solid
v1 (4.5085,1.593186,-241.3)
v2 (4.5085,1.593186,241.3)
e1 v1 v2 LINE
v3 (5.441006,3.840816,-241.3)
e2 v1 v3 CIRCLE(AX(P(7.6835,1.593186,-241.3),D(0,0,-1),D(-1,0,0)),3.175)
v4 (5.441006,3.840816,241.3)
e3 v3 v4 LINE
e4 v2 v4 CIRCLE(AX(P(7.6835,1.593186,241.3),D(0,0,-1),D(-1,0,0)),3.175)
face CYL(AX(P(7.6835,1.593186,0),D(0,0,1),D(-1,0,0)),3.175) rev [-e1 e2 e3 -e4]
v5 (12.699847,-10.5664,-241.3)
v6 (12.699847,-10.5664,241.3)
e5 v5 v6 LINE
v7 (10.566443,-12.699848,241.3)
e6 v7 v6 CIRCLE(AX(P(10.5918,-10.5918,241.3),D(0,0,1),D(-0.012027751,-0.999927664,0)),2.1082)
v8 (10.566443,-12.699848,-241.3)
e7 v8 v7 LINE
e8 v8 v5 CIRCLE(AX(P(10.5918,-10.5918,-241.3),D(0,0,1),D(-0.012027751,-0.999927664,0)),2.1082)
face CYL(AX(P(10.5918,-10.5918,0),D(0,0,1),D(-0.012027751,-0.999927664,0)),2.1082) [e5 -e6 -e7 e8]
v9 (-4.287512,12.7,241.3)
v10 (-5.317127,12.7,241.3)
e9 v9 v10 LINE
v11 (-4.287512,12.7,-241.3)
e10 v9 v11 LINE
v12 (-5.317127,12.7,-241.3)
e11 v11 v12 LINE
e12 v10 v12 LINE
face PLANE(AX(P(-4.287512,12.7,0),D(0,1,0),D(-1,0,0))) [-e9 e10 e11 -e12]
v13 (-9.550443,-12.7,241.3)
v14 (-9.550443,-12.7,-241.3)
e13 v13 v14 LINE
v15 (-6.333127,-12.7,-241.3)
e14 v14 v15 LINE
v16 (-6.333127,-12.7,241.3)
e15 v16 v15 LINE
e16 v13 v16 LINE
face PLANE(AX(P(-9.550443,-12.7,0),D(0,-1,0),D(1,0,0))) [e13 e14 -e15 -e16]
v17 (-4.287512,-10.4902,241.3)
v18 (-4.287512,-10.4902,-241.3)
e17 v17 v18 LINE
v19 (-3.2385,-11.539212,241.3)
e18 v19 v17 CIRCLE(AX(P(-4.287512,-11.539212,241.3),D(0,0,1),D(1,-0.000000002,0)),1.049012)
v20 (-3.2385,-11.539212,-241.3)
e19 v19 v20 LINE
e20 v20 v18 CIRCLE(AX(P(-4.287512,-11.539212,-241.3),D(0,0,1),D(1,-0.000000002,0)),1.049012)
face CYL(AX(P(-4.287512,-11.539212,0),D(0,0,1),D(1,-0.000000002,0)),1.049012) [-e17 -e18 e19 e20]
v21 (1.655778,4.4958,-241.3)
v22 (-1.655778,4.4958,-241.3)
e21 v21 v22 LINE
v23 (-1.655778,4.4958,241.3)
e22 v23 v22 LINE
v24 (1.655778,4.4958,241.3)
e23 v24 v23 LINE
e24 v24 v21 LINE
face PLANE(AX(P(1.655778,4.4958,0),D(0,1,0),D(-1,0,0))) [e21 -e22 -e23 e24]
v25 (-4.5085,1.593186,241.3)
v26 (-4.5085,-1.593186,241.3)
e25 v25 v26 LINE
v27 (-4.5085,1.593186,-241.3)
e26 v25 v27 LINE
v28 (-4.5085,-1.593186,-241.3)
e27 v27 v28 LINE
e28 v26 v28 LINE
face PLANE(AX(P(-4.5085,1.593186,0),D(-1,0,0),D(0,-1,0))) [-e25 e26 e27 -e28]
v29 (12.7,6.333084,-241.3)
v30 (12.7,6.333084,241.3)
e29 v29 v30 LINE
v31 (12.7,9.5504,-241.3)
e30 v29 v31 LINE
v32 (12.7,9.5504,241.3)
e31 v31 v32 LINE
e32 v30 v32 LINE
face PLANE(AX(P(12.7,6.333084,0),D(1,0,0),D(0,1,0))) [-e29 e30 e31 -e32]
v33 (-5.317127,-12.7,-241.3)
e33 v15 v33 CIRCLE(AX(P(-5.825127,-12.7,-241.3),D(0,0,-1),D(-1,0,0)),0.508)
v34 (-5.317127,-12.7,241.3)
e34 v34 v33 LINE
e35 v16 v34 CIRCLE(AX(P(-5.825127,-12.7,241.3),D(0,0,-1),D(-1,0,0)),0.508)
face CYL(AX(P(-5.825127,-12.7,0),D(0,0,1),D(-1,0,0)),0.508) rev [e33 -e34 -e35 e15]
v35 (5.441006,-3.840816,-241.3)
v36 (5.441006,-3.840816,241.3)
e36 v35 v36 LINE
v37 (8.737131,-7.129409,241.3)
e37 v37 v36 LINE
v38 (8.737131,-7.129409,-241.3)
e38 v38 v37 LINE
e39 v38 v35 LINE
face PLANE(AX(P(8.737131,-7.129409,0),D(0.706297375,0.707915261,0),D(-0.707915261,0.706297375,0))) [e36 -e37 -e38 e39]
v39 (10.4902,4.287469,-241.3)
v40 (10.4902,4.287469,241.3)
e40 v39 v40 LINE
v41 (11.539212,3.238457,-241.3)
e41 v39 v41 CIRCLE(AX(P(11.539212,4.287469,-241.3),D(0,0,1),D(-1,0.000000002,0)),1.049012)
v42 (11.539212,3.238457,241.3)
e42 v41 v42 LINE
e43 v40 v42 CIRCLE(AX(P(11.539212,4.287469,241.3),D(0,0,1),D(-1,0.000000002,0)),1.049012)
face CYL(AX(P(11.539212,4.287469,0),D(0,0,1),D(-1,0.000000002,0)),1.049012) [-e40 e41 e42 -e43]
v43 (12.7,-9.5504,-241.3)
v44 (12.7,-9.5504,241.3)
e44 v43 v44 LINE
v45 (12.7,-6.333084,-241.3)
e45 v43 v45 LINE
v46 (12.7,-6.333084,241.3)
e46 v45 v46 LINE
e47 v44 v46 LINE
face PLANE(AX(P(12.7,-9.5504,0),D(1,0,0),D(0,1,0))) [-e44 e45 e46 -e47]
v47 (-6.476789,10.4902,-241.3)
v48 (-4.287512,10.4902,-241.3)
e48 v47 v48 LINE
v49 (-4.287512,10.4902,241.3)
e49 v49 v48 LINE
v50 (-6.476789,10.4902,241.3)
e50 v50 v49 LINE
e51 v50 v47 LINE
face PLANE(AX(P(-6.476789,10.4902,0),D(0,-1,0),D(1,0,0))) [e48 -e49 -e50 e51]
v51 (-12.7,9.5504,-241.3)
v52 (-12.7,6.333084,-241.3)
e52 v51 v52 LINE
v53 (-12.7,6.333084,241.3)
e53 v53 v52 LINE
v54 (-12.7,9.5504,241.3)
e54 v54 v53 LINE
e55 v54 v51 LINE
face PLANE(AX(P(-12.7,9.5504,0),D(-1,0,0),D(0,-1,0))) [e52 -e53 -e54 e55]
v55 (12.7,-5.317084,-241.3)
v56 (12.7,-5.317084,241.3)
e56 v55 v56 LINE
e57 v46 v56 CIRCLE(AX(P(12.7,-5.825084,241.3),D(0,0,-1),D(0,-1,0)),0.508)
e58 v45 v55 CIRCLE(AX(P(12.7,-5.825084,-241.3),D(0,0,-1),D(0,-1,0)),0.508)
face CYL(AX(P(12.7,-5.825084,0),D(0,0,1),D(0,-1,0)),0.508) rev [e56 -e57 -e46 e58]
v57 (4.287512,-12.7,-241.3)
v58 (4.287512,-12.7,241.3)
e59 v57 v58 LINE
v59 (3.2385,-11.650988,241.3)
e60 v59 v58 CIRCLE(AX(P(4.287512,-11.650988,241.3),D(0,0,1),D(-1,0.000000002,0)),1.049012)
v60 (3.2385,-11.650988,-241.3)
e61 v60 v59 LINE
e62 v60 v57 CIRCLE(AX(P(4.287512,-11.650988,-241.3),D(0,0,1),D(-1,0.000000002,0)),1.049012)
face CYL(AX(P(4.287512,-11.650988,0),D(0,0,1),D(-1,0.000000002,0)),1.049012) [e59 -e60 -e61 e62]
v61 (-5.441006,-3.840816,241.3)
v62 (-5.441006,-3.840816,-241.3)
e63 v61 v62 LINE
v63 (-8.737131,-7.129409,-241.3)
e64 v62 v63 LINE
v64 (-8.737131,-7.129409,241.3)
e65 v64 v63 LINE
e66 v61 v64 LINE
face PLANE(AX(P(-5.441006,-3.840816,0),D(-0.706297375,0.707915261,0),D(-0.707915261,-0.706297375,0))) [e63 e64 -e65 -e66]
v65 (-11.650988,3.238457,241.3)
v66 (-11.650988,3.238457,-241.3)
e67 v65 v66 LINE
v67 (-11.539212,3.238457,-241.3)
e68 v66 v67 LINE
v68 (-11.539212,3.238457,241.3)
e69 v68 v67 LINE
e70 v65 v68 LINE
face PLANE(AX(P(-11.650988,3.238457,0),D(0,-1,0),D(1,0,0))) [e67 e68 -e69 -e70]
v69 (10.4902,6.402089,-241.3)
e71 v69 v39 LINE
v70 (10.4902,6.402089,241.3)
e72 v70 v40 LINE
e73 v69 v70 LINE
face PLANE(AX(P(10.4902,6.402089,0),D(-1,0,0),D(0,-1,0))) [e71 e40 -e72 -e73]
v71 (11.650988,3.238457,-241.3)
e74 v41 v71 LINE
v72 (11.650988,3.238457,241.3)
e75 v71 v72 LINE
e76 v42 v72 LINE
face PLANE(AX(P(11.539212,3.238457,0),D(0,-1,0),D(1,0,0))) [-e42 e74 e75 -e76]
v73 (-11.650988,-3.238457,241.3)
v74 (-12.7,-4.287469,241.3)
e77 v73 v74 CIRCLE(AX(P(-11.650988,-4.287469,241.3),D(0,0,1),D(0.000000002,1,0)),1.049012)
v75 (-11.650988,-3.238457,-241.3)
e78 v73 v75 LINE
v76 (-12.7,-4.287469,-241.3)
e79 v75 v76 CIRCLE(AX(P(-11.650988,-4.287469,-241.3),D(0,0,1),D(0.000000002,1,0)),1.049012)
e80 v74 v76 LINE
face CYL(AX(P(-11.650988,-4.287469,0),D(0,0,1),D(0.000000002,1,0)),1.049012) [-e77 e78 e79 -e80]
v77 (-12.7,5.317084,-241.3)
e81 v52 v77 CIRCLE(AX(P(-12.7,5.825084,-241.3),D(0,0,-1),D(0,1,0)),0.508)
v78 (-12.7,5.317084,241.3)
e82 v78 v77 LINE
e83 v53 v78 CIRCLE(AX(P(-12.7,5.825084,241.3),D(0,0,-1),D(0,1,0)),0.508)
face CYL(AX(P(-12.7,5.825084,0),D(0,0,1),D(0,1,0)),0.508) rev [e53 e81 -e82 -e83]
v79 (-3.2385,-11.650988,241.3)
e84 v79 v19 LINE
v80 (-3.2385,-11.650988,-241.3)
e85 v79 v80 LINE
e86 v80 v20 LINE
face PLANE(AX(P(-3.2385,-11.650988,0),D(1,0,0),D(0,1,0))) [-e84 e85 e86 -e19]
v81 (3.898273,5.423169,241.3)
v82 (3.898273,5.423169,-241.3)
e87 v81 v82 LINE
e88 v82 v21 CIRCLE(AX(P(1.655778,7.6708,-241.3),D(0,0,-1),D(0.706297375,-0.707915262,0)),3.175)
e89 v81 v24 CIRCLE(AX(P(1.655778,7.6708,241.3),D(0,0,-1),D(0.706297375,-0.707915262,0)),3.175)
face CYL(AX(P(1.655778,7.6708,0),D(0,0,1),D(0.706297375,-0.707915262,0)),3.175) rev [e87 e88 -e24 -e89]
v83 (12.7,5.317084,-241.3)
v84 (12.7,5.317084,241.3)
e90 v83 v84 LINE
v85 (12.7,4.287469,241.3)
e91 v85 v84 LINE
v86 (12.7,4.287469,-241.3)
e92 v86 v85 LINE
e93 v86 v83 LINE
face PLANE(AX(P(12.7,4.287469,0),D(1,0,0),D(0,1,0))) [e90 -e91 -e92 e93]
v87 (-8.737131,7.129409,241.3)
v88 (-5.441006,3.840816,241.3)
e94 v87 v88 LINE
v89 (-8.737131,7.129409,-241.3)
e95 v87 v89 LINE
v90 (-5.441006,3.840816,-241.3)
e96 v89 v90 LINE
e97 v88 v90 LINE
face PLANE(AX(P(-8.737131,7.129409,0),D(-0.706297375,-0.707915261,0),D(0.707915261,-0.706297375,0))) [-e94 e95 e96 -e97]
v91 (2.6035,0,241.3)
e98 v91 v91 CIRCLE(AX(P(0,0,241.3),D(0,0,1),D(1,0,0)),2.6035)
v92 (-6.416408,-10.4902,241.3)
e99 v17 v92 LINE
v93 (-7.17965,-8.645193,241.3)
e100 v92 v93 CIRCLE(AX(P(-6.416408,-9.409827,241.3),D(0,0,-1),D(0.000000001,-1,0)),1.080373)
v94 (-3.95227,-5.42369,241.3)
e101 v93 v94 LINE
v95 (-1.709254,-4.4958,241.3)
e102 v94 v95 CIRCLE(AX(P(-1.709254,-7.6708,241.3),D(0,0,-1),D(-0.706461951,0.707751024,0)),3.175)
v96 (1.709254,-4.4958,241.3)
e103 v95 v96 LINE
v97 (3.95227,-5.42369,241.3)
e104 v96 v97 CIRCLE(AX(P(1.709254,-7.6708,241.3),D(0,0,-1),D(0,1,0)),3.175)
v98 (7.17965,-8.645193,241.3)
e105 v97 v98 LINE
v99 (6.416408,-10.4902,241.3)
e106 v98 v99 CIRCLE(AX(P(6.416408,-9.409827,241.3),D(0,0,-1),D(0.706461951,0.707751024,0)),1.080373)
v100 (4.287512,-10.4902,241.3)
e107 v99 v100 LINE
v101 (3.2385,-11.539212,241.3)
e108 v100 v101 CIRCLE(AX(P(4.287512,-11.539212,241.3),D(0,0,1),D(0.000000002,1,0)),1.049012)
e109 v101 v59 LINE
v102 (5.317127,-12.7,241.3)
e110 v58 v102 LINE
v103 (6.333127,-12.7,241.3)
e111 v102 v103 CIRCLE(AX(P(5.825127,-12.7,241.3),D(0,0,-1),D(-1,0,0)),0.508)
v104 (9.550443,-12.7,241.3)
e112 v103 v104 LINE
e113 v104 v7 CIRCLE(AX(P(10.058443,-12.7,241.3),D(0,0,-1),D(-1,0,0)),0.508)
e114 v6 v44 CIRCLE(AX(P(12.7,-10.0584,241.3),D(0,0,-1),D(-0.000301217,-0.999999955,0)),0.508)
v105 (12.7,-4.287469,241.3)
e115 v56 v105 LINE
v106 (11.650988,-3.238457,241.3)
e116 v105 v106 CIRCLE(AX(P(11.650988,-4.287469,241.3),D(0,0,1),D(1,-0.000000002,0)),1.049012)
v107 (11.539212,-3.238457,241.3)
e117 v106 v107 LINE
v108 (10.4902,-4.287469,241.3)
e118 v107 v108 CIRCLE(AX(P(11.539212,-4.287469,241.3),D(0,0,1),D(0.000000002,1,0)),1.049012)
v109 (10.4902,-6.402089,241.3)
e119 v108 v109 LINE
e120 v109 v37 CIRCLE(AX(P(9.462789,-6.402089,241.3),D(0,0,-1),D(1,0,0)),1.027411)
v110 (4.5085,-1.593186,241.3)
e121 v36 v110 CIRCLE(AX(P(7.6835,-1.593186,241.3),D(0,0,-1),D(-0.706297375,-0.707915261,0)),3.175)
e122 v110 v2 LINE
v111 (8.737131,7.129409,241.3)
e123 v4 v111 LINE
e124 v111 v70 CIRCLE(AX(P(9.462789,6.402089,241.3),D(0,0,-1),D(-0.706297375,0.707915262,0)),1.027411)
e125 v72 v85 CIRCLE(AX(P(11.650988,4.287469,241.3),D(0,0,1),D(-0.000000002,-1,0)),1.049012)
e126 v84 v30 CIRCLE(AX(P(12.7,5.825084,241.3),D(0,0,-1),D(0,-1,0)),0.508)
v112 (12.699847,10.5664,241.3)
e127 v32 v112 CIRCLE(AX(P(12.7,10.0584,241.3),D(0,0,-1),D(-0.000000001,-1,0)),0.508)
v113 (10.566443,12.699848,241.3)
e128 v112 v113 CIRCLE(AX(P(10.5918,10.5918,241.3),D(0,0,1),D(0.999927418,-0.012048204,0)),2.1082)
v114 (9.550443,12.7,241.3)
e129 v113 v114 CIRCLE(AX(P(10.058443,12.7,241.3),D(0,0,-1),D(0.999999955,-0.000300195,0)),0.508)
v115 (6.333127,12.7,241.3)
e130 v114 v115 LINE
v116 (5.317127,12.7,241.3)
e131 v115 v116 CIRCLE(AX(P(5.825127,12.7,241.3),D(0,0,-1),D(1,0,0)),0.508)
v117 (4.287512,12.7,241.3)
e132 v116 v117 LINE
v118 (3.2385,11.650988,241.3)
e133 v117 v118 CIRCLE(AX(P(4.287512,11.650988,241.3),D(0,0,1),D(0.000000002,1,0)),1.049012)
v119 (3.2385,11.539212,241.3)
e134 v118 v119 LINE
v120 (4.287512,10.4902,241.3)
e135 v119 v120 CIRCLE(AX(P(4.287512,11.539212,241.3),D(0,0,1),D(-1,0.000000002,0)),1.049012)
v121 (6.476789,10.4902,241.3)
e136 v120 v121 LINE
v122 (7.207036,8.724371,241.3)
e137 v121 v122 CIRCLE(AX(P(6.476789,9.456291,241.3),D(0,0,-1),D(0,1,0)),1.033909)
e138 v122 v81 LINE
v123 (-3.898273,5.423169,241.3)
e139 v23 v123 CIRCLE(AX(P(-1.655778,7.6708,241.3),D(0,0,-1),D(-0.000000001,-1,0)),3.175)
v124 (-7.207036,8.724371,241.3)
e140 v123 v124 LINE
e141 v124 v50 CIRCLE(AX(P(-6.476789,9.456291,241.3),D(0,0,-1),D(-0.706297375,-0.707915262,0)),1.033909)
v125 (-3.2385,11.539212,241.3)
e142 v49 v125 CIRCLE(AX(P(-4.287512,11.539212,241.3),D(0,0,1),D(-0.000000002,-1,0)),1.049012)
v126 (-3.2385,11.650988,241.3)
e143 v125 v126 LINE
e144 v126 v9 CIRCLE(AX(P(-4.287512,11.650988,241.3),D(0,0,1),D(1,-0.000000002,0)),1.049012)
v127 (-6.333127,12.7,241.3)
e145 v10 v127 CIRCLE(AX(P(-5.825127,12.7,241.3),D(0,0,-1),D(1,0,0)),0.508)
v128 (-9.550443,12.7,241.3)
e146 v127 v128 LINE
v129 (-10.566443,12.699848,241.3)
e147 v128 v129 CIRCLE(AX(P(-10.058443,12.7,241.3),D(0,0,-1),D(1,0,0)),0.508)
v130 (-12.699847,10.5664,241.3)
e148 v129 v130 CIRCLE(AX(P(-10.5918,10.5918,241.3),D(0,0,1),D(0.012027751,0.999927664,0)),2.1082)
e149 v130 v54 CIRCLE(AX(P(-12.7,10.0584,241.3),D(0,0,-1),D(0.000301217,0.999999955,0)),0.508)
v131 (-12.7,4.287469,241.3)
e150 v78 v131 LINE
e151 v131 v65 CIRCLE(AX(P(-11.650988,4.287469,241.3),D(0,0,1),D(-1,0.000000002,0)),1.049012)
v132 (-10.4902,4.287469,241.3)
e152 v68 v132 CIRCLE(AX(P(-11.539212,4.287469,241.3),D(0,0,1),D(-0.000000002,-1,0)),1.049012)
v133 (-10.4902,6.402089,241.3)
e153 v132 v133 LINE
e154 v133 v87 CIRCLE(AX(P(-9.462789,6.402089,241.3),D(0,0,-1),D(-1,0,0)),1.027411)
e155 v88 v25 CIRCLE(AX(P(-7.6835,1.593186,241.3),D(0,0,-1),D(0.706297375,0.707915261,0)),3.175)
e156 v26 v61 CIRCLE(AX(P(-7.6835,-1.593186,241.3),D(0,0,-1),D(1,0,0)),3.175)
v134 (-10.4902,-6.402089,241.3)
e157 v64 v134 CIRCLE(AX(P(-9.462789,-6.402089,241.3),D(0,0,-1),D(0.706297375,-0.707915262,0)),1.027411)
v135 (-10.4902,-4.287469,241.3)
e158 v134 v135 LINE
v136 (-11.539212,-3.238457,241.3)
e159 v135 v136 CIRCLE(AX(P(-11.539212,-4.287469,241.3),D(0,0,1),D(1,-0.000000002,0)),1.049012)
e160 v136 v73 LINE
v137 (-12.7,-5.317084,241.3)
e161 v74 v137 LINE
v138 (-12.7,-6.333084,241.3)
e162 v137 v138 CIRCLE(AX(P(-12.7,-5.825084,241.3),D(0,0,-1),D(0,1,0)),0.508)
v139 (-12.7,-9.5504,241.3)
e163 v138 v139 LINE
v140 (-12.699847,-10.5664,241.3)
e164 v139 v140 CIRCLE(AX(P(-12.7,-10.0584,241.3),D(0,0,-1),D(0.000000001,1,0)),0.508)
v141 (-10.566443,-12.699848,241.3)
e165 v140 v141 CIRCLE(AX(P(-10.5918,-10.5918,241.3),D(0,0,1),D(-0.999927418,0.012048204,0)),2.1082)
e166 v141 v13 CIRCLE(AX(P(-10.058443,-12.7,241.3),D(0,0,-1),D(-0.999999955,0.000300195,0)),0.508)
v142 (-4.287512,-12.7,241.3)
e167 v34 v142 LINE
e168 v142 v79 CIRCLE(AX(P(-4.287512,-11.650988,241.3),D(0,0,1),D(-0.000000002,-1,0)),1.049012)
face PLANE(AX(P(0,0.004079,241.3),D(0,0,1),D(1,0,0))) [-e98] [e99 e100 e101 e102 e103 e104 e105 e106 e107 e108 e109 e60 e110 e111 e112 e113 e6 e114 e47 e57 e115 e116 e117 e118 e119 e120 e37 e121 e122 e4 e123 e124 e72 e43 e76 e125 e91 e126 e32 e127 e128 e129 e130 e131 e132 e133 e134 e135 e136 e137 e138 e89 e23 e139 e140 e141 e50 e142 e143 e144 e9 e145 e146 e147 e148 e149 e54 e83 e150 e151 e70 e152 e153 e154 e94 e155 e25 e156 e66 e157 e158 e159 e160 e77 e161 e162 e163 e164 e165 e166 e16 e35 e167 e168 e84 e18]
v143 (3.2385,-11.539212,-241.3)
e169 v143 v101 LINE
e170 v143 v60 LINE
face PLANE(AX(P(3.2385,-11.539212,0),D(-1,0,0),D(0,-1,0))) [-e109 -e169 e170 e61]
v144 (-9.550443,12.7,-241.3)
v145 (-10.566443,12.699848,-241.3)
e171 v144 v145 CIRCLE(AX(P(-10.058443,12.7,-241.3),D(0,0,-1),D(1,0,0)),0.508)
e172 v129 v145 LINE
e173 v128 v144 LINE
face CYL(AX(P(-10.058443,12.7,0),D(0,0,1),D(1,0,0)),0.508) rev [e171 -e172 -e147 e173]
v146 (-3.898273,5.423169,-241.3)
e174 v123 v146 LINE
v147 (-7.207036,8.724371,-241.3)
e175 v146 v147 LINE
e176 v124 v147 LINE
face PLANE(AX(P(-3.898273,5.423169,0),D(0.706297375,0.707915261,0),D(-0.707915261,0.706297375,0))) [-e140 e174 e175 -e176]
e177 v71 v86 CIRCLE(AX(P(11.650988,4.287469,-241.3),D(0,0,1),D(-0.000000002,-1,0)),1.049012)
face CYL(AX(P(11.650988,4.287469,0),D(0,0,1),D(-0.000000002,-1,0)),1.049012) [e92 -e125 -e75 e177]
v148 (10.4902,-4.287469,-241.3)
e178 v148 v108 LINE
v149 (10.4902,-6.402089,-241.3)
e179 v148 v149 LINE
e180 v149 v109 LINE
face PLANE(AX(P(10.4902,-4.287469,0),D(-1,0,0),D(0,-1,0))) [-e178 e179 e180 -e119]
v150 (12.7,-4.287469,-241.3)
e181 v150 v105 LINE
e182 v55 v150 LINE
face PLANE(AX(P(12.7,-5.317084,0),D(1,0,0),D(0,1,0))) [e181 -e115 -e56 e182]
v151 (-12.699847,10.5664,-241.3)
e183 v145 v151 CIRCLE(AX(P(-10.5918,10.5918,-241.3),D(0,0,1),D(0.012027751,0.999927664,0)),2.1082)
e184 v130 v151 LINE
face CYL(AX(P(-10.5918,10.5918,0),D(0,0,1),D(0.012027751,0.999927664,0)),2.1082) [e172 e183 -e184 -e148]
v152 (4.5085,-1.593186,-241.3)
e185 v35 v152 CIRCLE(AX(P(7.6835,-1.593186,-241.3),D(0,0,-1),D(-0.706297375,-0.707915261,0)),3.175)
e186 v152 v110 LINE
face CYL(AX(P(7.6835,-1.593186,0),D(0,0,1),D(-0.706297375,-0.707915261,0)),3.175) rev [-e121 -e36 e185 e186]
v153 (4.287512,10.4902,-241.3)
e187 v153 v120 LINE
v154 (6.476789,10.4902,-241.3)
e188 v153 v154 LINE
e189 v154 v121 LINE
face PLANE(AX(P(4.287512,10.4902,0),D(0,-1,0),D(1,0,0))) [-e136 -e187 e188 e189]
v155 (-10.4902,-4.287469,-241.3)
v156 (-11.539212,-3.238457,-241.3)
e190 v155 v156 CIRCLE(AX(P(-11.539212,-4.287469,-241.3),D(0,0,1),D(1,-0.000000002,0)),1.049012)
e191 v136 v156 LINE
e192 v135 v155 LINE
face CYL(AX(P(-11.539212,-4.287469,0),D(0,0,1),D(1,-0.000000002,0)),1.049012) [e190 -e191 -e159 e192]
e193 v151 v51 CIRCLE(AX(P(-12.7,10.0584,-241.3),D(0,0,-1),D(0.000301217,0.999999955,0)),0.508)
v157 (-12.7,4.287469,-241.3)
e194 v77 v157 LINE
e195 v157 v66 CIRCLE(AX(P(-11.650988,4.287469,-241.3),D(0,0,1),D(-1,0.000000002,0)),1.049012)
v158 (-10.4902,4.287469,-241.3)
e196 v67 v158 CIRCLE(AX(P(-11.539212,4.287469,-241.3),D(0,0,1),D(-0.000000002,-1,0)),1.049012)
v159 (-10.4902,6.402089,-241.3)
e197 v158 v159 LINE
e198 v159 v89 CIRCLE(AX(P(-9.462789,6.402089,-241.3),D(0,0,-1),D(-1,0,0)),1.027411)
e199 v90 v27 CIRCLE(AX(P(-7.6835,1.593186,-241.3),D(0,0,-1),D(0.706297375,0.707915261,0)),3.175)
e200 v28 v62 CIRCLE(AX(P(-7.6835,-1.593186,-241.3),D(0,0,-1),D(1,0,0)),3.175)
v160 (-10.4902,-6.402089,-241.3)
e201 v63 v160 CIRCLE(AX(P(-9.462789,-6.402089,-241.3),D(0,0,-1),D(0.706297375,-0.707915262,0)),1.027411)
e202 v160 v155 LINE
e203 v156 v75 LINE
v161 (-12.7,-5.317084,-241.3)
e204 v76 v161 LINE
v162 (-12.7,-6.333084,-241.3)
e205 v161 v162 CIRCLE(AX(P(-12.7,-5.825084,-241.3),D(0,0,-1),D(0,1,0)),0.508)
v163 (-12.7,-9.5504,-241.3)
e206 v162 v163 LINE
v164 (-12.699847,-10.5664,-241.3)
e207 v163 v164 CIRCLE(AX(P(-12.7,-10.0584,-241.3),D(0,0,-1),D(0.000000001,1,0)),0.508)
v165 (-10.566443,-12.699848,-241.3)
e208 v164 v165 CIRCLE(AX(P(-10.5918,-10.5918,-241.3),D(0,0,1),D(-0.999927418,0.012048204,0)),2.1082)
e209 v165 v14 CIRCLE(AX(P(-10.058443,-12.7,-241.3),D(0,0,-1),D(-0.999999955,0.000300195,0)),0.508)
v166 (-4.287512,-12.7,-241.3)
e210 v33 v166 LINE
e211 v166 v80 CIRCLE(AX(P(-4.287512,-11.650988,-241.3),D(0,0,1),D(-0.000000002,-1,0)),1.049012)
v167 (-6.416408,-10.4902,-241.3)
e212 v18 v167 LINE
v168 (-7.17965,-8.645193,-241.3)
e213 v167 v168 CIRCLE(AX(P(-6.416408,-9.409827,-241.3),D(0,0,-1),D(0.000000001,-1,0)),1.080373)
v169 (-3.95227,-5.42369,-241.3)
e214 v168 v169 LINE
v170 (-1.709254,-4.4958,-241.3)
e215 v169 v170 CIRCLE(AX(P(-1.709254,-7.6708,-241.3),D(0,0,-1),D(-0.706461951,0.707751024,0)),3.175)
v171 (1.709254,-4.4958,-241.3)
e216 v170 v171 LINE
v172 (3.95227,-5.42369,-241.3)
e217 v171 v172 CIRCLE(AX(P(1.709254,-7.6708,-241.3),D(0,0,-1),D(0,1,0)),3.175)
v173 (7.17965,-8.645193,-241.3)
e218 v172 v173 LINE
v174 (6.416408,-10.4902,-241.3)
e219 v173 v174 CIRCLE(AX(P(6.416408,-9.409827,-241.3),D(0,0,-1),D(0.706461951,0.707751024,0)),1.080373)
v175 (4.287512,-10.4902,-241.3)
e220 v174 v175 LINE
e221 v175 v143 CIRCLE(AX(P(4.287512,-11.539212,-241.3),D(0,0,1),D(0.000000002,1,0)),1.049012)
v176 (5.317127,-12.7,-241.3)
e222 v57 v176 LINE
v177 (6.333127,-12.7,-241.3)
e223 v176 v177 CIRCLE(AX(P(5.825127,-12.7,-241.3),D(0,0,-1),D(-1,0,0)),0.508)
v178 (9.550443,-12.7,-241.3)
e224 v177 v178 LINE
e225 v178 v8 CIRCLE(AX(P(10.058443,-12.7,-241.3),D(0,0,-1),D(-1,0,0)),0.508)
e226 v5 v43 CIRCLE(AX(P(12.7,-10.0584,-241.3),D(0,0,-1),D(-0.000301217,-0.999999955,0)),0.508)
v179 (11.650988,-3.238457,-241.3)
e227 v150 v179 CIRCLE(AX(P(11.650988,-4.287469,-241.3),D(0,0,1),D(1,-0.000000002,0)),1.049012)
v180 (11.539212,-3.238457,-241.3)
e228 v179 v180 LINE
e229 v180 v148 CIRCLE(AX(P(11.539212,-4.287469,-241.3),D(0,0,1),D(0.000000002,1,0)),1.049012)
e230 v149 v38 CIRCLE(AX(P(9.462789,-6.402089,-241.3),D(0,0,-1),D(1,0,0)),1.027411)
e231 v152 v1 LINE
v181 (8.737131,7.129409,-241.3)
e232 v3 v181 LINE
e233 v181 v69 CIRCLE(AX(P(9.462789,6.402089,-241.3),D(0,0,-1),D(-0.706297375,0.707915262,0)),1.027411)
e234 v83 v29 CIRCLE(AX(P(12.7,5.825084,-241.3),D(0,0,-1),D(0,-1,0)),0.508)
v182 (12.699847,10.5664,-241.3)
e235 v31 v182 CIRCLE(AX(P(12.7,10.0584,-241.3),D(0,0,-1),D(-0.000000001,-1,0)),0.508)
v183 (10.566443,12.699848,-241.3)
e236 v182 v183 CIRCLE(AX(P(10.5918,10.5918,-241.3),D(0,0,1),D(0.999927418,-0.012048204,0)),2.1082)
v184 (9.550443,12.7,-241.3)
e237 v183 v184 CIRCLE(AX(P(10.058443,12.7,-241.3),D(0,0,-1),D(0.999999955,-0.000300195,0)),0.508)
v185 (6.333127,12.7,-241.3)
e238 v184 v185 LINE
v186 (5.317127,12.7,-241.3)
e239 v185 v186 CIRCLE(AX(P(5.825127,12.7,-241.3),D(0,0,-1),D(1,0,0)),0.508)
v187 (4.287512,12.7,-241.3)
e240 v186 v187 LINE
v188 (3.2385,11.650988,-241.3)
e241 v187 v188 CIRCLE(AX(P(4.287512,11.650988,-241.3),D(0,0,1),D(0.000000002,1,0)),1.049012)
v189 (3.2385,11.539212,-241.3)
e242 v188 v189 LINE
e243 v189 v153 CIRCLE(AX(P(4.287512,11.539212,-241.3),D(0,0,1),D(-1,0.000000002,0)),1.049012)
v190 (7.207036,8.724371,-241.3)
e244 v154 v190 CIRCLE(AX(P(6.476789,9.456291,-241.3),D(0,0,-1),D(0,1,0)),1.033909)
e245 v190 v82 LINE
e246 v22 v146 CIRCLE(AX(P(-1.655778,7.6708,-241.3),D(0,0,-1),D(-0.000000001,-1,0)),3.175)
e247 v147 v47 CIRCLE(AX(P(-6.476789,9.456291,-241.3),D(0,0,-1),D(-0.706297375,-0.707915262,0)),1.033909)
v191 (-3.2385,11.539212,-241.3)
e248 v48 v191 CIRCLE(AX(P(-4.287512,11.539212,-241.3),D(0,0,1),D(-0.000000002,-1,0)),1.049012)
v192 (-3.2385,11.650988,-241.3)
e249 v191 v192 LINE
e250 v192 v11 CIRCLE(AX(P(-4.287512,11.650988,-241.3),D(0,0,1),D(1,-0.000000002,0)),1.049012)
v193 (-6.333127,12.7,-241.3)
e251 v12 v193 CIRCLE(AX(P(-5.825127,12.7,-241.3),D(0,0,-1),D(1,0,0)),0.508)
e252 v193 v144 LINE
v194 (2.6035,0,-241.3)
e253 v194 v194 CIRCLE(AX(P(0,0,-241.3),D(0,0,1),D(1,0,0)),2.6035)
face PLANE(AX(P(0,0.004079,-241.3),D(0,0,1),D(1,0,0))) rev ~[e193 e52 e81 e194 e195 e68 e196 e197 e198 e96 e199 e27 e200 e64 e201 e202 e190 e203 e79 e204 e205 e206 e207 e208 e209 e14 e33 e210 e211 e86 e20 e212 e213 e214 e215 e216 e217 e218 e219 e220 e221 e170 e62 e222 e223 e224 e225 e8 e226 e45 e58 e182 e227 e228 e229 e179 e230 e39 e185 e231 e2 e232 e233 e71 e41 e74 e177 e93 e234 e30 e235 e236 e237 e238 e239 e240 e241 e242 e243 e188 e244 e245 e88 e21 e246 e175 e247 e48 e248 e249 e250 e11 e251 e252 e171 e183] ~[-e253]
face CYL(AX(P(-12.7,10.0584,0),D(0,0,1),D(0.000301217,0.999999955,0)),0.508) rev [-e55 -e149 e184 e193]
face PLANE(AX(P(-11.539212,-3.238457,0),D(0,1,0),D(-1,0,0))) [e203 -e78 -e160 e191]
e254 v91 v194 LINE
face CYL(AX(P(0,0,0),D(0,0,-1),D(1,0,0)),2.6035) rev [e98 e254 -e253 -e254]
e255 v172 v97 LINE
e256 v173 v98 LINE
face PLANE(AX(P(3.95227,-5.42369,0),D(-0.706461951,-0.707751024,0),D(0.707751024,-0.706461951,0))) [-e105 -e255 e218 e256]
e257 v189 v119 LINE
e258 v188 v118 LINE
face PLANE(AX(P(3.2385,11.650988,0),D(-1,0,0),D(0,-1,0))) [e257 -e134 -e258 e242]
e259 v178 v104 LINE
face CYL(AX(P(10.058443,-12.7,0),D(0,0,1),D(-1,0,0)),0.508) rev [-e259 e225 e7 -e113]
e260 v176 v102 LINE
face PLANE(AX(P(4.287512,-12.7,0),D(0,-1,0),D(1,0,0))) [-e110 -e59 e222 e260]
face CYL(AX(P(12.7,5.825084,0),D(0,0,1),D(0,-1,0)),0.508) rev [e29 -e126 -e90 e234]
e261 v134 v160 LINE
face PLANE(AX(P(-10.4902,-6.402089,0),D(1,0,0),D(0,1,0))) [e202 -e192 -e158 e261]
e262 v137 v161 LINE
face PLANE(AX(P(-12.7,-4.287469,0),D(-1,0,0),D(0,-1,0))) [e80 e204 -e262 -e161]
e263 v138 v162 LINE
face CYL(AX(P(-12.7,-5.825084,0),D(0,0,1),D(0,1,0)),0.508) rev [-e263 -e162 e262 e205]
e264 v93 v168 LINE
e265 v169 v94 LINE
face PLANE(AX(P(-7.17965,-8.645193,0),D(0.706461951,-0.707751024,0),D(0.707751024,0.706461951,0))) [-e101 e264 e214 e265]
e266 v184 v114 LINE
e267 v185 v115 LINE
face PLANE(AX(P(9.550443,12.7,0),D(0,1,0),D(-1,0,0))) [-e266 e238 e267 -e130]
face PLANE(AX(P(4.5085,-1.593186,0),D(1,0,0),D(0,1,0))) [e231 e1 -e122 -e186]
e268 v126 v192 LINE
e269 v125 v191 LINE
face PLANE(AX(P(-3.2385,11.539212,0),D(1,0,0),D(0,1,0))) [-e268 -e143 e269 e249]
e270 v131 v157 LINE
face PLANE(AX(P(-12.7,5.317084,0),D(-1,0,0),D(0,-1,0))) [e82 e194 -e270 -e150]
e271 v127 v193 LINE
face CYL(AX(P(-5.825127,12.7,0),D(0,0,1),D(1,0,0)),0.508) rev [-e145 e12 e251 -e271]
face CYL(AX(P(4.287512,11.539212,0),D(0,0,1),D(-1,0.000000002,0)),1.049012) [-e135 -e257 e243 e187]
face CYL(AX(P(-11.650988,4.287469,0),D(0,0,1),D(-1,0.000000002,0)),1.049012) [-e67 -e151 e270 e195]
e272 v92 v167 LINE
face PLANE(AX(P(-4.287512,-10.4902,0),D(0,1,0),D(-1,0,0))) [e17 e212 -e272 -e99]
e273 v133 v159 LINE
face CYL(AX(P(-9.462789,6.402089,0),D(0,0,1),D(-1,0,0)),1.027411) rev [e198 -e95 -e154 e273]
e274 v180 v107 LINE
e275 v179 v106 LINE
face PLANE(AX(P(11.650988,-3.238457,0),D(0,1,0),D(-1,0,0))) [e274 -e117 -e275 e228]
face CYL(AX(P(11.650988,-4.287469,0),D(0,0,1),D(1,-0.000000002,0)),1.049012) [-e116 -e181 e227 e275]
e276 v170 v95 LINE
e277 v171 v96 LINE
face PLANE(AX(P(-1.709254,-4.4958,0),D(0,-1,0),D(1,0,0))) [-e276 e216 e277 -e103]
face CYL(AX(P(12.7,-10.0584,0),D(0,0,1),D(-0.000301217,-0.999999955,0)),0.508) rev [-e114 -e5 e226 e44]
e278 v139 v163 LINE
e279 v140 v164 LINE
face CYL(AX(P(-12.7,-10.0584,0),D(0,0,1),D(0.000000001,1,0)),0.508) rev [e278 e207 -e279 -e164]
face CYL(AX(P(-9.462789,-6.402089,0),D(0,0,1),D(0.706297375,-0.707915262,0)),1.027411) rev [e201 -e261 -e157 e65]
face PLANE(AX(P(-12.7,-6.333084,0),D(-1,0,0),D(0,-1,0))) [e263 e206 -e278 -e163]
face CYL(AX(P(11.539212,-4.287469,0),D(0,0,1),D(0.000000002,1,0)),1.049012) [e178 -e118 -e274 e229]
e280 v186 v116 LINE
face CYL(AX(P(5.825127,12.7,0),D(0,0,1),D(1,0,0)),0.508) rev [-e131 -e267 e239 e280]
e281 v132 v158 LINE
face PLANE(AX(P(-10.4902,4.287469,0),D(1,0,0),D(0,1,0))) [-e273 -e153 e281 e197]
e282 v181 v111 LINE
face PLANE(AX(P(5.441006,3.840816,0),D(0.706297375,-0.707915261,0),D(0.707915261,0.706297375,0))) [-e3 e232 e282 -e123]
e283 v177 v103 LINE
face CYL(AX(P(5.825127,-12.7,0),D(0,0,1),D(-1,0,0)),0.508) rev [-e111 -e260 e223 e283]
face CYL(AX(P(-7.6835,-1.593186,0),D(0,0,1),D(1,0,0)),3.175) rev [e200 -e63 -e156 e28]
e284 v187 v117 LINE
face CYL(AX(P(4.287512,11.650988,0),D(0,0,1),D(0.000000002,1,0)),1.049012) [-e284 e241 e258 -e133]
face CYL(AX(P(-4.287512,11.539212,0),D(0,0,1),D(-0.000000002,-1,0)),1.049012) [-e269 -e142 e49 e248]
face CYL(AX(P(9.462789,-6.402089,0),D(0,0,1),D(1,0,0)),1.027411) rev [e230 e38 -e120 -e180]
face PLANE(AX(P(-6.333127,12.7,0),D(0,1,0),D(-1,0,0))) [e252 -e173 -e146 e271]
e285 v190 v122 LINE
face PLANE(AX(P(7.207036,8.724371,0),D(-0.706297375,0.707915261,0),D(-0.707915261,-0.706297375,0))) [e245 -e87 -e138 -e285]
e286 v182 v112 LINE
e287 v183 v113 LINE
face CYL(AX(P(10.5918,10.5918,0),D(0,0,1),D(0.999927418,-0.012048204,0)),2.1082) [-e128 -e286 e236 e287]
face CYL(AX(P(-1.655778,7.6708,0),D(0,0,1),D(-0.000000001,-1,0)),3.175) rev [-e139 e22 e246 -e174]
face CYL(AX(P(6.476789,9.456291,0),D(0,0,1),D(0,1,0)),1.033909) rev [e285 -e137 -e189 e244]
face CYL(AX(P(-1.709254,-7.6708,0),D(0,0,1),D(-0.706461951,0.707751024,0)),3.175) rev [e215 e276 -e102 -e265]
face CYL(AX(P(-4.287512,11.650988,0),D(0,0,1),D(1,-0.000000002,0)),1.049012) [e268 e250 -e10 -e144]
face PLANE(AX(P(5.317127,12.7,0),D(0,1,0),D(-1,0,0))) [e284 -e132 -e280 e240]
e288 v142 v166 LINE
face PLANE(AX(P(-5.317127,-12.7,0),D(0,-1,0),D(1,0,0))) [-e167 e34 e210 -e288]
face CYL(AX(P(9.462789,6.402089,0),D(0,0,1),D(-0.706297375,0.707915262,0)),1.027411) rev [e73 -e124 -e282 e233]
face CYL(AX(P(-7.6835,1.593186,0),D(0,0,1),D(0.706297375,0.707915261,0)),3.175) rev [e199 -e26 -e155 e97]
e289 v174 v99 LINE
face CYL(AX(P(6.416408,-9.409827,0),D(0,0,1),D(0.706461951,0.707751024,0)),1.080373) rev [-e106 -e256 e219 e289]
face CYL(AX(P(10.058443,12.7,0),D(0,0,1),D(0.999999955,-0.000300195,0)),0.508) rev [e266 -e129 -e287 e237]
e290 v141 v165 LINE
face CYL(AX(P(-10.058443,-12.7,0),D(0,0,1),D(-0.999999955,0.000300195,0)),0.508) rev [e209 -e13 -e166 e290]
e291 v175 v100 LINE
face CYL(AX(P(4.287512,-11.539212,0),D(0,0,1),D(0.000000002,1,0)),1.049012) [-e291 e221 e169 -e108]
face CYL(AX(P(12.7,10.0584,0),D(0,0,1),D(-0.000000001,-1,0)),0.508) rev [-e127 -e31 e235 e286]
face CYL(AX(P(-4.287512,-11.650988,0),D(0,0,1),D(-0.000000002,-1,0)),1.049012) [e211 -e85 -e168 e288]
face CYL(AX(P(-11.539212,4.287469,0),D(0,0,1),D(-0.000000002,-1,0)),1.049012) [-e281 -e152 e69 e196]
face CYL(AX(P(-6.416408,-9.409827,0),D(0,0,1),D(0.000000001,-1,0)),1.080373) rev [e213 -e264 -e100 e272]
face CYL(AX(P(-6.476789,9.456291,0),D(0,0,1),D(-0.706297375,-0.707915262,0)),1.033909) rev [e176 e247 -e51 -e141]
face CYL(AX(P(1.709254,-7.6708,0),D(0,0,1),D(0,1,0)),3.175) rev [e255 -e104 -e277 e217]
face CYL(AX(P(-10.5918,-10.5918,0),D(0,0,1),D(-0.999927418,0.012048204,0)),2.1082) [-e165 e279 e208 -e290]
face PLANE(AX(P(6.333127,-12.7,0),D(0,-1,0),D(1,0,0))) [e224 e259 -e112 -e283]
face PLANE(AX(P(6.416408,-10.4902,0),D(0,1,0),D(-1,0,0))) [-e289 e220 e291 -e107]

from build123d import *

# Parameters (mm, degrees)
SKETCH1_R           = 2.6035
BOSS_EXTRUDE1_DEPTH = 241.3


with BuildPart() as part:
    # Sketch1 → Boss-Extrude1 (new body, symmetric)
    with BuildSketch(Plane.XY):
        with BuildLine():
            Line((-7.179650497, -8.645192506), (-3.952270251, -5.423690499))
            ThreePointArc((-3.952270251, -5.423690499), (-2.922936451, -4.736929036), (-1.709253557, -4.4958))
            Line((-1.709253557, -4.4958), (1.709253557, -4.4958))
            ThreePointArc((1.709253557, -4.4958), (2.922936451, -4.736929036), (3.952270251, -5.423690499))
            Line((3.952270251, -5.423690499), (7.179650497, -8.645192506))
            ThreePointArc((7.179650497, -8.645192506), (7.41473083, -9.822813117), (6.416408329, -10.4902))
            Line((6.416408329, -10.4902), (4.287512407, -10.4902))
            ThreePointArc((4.287512407, -10.4902), (3.54574862, -10.79744862), (3.2385, -11.539212407))
            Line((3.2385, -11.539212407), (3.2385, -11.650987593))
            ThreePointArc((3.2385, -11.650987593), (3.54574862, -12.39275138), (4.287512407, -12.7))
            Line((4.287512407, -12.7), (5.317126718, -12.7))
            ThreePointArc((5.317126718, -12.7), (5.825126718, -12.192), (6.333126718, -12.7))
            Line((6.333126718, -12.7), (9.550443118, -12.7))
            ThreePointArc((9.550443118, -12.7), (10.058366869, -12.192000006), (10.566443095, -12.699847501))
            ThreePointArc((10.566443095, -12.699847501), (12.082537762, -12.08250727), (12.699846982, -10.566399977))
            ThreePointArc((12.699846982, -10.566399977), (12.192000006, -10.058323491), (12.7, -9.5504))
            Line((12.7, -9.5504), (12.7, -6.3330836))
            ThreePointArc((12.7, -6.3330836), (12.192, -5.8250836), (12.7, -5.3170836))
            Line((12.7, -5.3170836), (12.7, -4.287469289))
            ThreePointArc((12.7, -4.287469289), (12.39275138, -3.545705502), (11.650987593, -3.238456882))
            Line((11.650987593, -3.238456882), (11.539212407, -3.238456882))
            ThreePointArc((11.539212407, -3.238456882), (10.79744862, -3.545705502), (10.4902, -4.287469289))
            Line((10.4902, -4.287469289), (10.4902, -6.402089023))
            ThreePointArc((10.4902, -6.402089023), (9.856505071, -7.351067942), (8.737131347, -7.129408934))
            Line((8.737131347, -7.129408934), (5.441005833, -3.840816462))
            ThreePointArc((5.441005833, -3.840816462), (4.750877967, -2.809883091), (4.5085, -1.593185507))
            Line((4.5085, -1.593185507), (4.5085, 1.593185507))
            ThreePointArc((4.5085, 1.593185507), (4.750877967, 2.809883091), (5.441005833, 3.840816462))
            Line((5.441005833, 3.840816462), (8.737131347, 7.129408934))
            ThreePointArc((8.737131347, 7.129408934), (9.856505071, 7.351067942), (10.4902, 6.402089023))
            Line((10.4902, 6.402089023), (10.4902, 4.287469289))
            ThreePointArc((10.4902, 4.287469289), (10.79744862, 3.545705502), (11.539212407, 3.238456882))
            Line((11.539212407, 3.238456882), (11.650987593, 3.238456882))
            ThreePointArc((11.650987593, 3.238456882), (12.39275138, 3.545705502), (12.7, 4.287469289))
            Line((12.7, 4.287469289), (12.7, 5.3170836))
            ThreePointArc((12.7, 5.3170836), (12.192, 5.8250836), (12.7, 6.3330836))
            Line((12.7, 6.3330836), (12.7, 9.5504))
            ThreePointArc((12.7, 9.5504), (12.192000006, 10.058323491), (12.699846982, 10.566399977))
            ThreePointArc((12.699846982, 10.566399977), (12.082537762, 12.08250727), (10.566443095, 12.699847501))
            ThreePointArc((10.566443095, 12.699847501), (10.058366869, 12.192000006), (9.550443118, 12.7))
            Line((9.550443118, 12.7), (6.333126718, 12.7))
            ThreePointArc((6.333126718, 12.7), (5.825126718, 12.192), (5.317126718, 12.7))
            Line((5.317126718, 12.7), (4.287512407, 12.7))
            ThreePointArc((4.287512407, 12.7), (3.54574862, 12.39275138), (3.2385, 11.650987593))
            Line((3.2385, 11.650987593), (3.2385, 11.539212407))
            ThreePointArc((3.2385, 11.539212407), (3.54574862, 10.79744862), (4.287512407, 10.4902))
            Line((4.287512407, 10.4902), (6.476788598, 10.4902))
            ThreePointArc((6.476788598, 10.4902), (7.432222385, 9.85140422), (7.207036008, 8.724370562))
            Line((7.207036008, 8.724370562), (3.898272566, 5.423169045))
            ThreePointArc((3.898272566, 5.423169045), (2.869120213, 4.736787962), (1.655778399, 4.4958))
            Line((1.655778399, 4.4958), (-1.655778399, 4.4958))
            ThreePointArc((-1.655778399, 4.4958), (-2.869120213, 4.736787962), (-3.898272566, 5.423169045))
            Line((-3.898272566, 5.423169045), (-7.207036008, 8.724370562))
            ThreePointArc((-7.207036008, 8.724370562), (-7.432222385, 9.85140422), (-6.476788598, 10.4902))
            Line((-6.476788598, 10.4902), (-4.287512407, 10.4902))
            ThreePointArc((-4.287512407, 10.4902), (-3.54574862, 10.79744862), (-3.2385, 11.539212407))
            Line((-3.2385, 11.539212407), (-3.2385, 11.650987593))
            ThreePointArc((-3.2385, 11.650987593), (-3.54574862, 12.39275138), (-4.287512407, 12.7))
            Line((-4.287512407, 12.7), (-5.317126718, 12.7))
            ThreePointArc((-5.317126718, 12.7), (-5.825126718, 12.192), (-6.333126718, 12.7))
            Line((-6.333126718, 12.7), (-9.550443118, 12.7))
            ThreePointArc((-9.550443118, 12.7), (-10.058366869, 12.192000006), (-10.566443095, 12.699847501))
            ThreePointArc((-10.566443095, 12.699847501), (-12.082537762, 12.08250727), (-12.699846982, 10.566399977))
            ThreePointArc((-12.699846982, 10.566399977), (-12.192000006, 10.058323491), (-12.7, 9.5504))
            Line((-12.7, 9.5504), (-12.7, 6.3330836))
            ThreePointArc((-12.7, 6.3330836), (-12.192, 5.8250836), (-12.7, 5.3170836))
            Line((-12.7, 5.3170836), (-12.7, 4.287469289))
            ThreePointArc((-12.7, 4.287469289), (-12.39275138, 3.545705502), (-11.650987593, 3.238456882))
            Line((-11.650987593, 3.238456882), (-11.539212407, 3.238456882))
            ThreePointArc((-11.539212407, 3.238456882), (-10.79744862, 3.545705502), (-10.4902, 4.287469289))
            Line((-10.4902, 4.287469289), (-10.4902, 6.402089023))
            ThreePointArc((-10.4902, 6.402089023), (-9.856505071, 7.351067942), (-8.737131347, 7.129408934))
            Line((-8.737131347, 7.129408934), (-5.441005833, 3.840816462))
            ThreePointArc((-5.441005833, 3.840816462), (-4.750877967, 2.809883091), (-4.5085, 1.593185507))
            Line((-4.5085, 1.593185507), (-4.5085, -1.593185507))
            ThreePointArc((-4.5085, -1.593185507), (-4.750877967, -2.809883091), (-5.441005833, -3.840816462))
            Line((-5.441005833, -3.840816462), (-8.737131347, -7.129408934))
            ThreePointArc((-8.737131347, -7.129408934), (-9.856505071, -7.351067942), (-10.4902, -6.402089023))
            Line((-10.4902, -6.402089023), (-10.4902, -4.287469289))
            ThreePointArc((-10.4902, -4.287469289), (-10.79744862, -3.545705502), (-11.539212407, -3.238456882))
            Line((-11.539212407, -3.238456882), (-11.650987593, -3.238456882))
            ThreePointArc((-11.650987593, -3.238456882), (-12.39275138, -3.545705502), (-12.7, -4.287469289))
            Line((-12.7, -4.287469289), (-12.7, -5.3170836))
            ThreePointArc((-12.7, -5.3170836), (-12.192, -5.8250836), (-12.7, -6.3330836))
            Line((-12.7, -6.3330836), (-12.7, -9.5504))
            ThreePointArc((-12.7, -9.5504), (-12.192000006, -10.058323491), (-12.699846982, -10.566399977))
            ThreePointArc((-12.699846982, -10.566399977), (-12.082537762, -12.08250727), (-10.566443095, -12.699847501))
            ThreePointArc((-10.566443095, -12.699847501), (-10.058366869, -12.192000006), (-9.550443118, -12.7))
            Line((-9.550443118, -12.7), (-6.333126718, -12.7))
            ThreePointArc((-6.333126718, -12.7), (-5.825126718, -12.192), (-5.317126718, -12.7))
            Line((-5.317126718, -12.7), (-4.287512407, -12.7))
            ThreePointArc((-4.287512407, -12.7), (-3.54574862, -12.39275138), (-3.2385, -11.650987593))
            Line((-3.2385, -11.650987593), (-3.2385, -11.539212407))
            ThreePointArc((-3.2385, -11.539212407), (-3.54574862, -10.79744862), (-4.287512407, -10.4902))
            Line((-4.287512407, -10.4902), (-6.416408329, -10.4902))
            ThreePointArc((-6.416408329, -10.4902), (-7.41473083, -9.822813117), (-7.179650497, -8.645192506))
        make_face()
        Circle(SKETCH1_R, mode=Mode.SUBTRACT)
    extrude(amount=BOSS_EXTRUDE1_DEPTH, both=True)


solid = part.part
